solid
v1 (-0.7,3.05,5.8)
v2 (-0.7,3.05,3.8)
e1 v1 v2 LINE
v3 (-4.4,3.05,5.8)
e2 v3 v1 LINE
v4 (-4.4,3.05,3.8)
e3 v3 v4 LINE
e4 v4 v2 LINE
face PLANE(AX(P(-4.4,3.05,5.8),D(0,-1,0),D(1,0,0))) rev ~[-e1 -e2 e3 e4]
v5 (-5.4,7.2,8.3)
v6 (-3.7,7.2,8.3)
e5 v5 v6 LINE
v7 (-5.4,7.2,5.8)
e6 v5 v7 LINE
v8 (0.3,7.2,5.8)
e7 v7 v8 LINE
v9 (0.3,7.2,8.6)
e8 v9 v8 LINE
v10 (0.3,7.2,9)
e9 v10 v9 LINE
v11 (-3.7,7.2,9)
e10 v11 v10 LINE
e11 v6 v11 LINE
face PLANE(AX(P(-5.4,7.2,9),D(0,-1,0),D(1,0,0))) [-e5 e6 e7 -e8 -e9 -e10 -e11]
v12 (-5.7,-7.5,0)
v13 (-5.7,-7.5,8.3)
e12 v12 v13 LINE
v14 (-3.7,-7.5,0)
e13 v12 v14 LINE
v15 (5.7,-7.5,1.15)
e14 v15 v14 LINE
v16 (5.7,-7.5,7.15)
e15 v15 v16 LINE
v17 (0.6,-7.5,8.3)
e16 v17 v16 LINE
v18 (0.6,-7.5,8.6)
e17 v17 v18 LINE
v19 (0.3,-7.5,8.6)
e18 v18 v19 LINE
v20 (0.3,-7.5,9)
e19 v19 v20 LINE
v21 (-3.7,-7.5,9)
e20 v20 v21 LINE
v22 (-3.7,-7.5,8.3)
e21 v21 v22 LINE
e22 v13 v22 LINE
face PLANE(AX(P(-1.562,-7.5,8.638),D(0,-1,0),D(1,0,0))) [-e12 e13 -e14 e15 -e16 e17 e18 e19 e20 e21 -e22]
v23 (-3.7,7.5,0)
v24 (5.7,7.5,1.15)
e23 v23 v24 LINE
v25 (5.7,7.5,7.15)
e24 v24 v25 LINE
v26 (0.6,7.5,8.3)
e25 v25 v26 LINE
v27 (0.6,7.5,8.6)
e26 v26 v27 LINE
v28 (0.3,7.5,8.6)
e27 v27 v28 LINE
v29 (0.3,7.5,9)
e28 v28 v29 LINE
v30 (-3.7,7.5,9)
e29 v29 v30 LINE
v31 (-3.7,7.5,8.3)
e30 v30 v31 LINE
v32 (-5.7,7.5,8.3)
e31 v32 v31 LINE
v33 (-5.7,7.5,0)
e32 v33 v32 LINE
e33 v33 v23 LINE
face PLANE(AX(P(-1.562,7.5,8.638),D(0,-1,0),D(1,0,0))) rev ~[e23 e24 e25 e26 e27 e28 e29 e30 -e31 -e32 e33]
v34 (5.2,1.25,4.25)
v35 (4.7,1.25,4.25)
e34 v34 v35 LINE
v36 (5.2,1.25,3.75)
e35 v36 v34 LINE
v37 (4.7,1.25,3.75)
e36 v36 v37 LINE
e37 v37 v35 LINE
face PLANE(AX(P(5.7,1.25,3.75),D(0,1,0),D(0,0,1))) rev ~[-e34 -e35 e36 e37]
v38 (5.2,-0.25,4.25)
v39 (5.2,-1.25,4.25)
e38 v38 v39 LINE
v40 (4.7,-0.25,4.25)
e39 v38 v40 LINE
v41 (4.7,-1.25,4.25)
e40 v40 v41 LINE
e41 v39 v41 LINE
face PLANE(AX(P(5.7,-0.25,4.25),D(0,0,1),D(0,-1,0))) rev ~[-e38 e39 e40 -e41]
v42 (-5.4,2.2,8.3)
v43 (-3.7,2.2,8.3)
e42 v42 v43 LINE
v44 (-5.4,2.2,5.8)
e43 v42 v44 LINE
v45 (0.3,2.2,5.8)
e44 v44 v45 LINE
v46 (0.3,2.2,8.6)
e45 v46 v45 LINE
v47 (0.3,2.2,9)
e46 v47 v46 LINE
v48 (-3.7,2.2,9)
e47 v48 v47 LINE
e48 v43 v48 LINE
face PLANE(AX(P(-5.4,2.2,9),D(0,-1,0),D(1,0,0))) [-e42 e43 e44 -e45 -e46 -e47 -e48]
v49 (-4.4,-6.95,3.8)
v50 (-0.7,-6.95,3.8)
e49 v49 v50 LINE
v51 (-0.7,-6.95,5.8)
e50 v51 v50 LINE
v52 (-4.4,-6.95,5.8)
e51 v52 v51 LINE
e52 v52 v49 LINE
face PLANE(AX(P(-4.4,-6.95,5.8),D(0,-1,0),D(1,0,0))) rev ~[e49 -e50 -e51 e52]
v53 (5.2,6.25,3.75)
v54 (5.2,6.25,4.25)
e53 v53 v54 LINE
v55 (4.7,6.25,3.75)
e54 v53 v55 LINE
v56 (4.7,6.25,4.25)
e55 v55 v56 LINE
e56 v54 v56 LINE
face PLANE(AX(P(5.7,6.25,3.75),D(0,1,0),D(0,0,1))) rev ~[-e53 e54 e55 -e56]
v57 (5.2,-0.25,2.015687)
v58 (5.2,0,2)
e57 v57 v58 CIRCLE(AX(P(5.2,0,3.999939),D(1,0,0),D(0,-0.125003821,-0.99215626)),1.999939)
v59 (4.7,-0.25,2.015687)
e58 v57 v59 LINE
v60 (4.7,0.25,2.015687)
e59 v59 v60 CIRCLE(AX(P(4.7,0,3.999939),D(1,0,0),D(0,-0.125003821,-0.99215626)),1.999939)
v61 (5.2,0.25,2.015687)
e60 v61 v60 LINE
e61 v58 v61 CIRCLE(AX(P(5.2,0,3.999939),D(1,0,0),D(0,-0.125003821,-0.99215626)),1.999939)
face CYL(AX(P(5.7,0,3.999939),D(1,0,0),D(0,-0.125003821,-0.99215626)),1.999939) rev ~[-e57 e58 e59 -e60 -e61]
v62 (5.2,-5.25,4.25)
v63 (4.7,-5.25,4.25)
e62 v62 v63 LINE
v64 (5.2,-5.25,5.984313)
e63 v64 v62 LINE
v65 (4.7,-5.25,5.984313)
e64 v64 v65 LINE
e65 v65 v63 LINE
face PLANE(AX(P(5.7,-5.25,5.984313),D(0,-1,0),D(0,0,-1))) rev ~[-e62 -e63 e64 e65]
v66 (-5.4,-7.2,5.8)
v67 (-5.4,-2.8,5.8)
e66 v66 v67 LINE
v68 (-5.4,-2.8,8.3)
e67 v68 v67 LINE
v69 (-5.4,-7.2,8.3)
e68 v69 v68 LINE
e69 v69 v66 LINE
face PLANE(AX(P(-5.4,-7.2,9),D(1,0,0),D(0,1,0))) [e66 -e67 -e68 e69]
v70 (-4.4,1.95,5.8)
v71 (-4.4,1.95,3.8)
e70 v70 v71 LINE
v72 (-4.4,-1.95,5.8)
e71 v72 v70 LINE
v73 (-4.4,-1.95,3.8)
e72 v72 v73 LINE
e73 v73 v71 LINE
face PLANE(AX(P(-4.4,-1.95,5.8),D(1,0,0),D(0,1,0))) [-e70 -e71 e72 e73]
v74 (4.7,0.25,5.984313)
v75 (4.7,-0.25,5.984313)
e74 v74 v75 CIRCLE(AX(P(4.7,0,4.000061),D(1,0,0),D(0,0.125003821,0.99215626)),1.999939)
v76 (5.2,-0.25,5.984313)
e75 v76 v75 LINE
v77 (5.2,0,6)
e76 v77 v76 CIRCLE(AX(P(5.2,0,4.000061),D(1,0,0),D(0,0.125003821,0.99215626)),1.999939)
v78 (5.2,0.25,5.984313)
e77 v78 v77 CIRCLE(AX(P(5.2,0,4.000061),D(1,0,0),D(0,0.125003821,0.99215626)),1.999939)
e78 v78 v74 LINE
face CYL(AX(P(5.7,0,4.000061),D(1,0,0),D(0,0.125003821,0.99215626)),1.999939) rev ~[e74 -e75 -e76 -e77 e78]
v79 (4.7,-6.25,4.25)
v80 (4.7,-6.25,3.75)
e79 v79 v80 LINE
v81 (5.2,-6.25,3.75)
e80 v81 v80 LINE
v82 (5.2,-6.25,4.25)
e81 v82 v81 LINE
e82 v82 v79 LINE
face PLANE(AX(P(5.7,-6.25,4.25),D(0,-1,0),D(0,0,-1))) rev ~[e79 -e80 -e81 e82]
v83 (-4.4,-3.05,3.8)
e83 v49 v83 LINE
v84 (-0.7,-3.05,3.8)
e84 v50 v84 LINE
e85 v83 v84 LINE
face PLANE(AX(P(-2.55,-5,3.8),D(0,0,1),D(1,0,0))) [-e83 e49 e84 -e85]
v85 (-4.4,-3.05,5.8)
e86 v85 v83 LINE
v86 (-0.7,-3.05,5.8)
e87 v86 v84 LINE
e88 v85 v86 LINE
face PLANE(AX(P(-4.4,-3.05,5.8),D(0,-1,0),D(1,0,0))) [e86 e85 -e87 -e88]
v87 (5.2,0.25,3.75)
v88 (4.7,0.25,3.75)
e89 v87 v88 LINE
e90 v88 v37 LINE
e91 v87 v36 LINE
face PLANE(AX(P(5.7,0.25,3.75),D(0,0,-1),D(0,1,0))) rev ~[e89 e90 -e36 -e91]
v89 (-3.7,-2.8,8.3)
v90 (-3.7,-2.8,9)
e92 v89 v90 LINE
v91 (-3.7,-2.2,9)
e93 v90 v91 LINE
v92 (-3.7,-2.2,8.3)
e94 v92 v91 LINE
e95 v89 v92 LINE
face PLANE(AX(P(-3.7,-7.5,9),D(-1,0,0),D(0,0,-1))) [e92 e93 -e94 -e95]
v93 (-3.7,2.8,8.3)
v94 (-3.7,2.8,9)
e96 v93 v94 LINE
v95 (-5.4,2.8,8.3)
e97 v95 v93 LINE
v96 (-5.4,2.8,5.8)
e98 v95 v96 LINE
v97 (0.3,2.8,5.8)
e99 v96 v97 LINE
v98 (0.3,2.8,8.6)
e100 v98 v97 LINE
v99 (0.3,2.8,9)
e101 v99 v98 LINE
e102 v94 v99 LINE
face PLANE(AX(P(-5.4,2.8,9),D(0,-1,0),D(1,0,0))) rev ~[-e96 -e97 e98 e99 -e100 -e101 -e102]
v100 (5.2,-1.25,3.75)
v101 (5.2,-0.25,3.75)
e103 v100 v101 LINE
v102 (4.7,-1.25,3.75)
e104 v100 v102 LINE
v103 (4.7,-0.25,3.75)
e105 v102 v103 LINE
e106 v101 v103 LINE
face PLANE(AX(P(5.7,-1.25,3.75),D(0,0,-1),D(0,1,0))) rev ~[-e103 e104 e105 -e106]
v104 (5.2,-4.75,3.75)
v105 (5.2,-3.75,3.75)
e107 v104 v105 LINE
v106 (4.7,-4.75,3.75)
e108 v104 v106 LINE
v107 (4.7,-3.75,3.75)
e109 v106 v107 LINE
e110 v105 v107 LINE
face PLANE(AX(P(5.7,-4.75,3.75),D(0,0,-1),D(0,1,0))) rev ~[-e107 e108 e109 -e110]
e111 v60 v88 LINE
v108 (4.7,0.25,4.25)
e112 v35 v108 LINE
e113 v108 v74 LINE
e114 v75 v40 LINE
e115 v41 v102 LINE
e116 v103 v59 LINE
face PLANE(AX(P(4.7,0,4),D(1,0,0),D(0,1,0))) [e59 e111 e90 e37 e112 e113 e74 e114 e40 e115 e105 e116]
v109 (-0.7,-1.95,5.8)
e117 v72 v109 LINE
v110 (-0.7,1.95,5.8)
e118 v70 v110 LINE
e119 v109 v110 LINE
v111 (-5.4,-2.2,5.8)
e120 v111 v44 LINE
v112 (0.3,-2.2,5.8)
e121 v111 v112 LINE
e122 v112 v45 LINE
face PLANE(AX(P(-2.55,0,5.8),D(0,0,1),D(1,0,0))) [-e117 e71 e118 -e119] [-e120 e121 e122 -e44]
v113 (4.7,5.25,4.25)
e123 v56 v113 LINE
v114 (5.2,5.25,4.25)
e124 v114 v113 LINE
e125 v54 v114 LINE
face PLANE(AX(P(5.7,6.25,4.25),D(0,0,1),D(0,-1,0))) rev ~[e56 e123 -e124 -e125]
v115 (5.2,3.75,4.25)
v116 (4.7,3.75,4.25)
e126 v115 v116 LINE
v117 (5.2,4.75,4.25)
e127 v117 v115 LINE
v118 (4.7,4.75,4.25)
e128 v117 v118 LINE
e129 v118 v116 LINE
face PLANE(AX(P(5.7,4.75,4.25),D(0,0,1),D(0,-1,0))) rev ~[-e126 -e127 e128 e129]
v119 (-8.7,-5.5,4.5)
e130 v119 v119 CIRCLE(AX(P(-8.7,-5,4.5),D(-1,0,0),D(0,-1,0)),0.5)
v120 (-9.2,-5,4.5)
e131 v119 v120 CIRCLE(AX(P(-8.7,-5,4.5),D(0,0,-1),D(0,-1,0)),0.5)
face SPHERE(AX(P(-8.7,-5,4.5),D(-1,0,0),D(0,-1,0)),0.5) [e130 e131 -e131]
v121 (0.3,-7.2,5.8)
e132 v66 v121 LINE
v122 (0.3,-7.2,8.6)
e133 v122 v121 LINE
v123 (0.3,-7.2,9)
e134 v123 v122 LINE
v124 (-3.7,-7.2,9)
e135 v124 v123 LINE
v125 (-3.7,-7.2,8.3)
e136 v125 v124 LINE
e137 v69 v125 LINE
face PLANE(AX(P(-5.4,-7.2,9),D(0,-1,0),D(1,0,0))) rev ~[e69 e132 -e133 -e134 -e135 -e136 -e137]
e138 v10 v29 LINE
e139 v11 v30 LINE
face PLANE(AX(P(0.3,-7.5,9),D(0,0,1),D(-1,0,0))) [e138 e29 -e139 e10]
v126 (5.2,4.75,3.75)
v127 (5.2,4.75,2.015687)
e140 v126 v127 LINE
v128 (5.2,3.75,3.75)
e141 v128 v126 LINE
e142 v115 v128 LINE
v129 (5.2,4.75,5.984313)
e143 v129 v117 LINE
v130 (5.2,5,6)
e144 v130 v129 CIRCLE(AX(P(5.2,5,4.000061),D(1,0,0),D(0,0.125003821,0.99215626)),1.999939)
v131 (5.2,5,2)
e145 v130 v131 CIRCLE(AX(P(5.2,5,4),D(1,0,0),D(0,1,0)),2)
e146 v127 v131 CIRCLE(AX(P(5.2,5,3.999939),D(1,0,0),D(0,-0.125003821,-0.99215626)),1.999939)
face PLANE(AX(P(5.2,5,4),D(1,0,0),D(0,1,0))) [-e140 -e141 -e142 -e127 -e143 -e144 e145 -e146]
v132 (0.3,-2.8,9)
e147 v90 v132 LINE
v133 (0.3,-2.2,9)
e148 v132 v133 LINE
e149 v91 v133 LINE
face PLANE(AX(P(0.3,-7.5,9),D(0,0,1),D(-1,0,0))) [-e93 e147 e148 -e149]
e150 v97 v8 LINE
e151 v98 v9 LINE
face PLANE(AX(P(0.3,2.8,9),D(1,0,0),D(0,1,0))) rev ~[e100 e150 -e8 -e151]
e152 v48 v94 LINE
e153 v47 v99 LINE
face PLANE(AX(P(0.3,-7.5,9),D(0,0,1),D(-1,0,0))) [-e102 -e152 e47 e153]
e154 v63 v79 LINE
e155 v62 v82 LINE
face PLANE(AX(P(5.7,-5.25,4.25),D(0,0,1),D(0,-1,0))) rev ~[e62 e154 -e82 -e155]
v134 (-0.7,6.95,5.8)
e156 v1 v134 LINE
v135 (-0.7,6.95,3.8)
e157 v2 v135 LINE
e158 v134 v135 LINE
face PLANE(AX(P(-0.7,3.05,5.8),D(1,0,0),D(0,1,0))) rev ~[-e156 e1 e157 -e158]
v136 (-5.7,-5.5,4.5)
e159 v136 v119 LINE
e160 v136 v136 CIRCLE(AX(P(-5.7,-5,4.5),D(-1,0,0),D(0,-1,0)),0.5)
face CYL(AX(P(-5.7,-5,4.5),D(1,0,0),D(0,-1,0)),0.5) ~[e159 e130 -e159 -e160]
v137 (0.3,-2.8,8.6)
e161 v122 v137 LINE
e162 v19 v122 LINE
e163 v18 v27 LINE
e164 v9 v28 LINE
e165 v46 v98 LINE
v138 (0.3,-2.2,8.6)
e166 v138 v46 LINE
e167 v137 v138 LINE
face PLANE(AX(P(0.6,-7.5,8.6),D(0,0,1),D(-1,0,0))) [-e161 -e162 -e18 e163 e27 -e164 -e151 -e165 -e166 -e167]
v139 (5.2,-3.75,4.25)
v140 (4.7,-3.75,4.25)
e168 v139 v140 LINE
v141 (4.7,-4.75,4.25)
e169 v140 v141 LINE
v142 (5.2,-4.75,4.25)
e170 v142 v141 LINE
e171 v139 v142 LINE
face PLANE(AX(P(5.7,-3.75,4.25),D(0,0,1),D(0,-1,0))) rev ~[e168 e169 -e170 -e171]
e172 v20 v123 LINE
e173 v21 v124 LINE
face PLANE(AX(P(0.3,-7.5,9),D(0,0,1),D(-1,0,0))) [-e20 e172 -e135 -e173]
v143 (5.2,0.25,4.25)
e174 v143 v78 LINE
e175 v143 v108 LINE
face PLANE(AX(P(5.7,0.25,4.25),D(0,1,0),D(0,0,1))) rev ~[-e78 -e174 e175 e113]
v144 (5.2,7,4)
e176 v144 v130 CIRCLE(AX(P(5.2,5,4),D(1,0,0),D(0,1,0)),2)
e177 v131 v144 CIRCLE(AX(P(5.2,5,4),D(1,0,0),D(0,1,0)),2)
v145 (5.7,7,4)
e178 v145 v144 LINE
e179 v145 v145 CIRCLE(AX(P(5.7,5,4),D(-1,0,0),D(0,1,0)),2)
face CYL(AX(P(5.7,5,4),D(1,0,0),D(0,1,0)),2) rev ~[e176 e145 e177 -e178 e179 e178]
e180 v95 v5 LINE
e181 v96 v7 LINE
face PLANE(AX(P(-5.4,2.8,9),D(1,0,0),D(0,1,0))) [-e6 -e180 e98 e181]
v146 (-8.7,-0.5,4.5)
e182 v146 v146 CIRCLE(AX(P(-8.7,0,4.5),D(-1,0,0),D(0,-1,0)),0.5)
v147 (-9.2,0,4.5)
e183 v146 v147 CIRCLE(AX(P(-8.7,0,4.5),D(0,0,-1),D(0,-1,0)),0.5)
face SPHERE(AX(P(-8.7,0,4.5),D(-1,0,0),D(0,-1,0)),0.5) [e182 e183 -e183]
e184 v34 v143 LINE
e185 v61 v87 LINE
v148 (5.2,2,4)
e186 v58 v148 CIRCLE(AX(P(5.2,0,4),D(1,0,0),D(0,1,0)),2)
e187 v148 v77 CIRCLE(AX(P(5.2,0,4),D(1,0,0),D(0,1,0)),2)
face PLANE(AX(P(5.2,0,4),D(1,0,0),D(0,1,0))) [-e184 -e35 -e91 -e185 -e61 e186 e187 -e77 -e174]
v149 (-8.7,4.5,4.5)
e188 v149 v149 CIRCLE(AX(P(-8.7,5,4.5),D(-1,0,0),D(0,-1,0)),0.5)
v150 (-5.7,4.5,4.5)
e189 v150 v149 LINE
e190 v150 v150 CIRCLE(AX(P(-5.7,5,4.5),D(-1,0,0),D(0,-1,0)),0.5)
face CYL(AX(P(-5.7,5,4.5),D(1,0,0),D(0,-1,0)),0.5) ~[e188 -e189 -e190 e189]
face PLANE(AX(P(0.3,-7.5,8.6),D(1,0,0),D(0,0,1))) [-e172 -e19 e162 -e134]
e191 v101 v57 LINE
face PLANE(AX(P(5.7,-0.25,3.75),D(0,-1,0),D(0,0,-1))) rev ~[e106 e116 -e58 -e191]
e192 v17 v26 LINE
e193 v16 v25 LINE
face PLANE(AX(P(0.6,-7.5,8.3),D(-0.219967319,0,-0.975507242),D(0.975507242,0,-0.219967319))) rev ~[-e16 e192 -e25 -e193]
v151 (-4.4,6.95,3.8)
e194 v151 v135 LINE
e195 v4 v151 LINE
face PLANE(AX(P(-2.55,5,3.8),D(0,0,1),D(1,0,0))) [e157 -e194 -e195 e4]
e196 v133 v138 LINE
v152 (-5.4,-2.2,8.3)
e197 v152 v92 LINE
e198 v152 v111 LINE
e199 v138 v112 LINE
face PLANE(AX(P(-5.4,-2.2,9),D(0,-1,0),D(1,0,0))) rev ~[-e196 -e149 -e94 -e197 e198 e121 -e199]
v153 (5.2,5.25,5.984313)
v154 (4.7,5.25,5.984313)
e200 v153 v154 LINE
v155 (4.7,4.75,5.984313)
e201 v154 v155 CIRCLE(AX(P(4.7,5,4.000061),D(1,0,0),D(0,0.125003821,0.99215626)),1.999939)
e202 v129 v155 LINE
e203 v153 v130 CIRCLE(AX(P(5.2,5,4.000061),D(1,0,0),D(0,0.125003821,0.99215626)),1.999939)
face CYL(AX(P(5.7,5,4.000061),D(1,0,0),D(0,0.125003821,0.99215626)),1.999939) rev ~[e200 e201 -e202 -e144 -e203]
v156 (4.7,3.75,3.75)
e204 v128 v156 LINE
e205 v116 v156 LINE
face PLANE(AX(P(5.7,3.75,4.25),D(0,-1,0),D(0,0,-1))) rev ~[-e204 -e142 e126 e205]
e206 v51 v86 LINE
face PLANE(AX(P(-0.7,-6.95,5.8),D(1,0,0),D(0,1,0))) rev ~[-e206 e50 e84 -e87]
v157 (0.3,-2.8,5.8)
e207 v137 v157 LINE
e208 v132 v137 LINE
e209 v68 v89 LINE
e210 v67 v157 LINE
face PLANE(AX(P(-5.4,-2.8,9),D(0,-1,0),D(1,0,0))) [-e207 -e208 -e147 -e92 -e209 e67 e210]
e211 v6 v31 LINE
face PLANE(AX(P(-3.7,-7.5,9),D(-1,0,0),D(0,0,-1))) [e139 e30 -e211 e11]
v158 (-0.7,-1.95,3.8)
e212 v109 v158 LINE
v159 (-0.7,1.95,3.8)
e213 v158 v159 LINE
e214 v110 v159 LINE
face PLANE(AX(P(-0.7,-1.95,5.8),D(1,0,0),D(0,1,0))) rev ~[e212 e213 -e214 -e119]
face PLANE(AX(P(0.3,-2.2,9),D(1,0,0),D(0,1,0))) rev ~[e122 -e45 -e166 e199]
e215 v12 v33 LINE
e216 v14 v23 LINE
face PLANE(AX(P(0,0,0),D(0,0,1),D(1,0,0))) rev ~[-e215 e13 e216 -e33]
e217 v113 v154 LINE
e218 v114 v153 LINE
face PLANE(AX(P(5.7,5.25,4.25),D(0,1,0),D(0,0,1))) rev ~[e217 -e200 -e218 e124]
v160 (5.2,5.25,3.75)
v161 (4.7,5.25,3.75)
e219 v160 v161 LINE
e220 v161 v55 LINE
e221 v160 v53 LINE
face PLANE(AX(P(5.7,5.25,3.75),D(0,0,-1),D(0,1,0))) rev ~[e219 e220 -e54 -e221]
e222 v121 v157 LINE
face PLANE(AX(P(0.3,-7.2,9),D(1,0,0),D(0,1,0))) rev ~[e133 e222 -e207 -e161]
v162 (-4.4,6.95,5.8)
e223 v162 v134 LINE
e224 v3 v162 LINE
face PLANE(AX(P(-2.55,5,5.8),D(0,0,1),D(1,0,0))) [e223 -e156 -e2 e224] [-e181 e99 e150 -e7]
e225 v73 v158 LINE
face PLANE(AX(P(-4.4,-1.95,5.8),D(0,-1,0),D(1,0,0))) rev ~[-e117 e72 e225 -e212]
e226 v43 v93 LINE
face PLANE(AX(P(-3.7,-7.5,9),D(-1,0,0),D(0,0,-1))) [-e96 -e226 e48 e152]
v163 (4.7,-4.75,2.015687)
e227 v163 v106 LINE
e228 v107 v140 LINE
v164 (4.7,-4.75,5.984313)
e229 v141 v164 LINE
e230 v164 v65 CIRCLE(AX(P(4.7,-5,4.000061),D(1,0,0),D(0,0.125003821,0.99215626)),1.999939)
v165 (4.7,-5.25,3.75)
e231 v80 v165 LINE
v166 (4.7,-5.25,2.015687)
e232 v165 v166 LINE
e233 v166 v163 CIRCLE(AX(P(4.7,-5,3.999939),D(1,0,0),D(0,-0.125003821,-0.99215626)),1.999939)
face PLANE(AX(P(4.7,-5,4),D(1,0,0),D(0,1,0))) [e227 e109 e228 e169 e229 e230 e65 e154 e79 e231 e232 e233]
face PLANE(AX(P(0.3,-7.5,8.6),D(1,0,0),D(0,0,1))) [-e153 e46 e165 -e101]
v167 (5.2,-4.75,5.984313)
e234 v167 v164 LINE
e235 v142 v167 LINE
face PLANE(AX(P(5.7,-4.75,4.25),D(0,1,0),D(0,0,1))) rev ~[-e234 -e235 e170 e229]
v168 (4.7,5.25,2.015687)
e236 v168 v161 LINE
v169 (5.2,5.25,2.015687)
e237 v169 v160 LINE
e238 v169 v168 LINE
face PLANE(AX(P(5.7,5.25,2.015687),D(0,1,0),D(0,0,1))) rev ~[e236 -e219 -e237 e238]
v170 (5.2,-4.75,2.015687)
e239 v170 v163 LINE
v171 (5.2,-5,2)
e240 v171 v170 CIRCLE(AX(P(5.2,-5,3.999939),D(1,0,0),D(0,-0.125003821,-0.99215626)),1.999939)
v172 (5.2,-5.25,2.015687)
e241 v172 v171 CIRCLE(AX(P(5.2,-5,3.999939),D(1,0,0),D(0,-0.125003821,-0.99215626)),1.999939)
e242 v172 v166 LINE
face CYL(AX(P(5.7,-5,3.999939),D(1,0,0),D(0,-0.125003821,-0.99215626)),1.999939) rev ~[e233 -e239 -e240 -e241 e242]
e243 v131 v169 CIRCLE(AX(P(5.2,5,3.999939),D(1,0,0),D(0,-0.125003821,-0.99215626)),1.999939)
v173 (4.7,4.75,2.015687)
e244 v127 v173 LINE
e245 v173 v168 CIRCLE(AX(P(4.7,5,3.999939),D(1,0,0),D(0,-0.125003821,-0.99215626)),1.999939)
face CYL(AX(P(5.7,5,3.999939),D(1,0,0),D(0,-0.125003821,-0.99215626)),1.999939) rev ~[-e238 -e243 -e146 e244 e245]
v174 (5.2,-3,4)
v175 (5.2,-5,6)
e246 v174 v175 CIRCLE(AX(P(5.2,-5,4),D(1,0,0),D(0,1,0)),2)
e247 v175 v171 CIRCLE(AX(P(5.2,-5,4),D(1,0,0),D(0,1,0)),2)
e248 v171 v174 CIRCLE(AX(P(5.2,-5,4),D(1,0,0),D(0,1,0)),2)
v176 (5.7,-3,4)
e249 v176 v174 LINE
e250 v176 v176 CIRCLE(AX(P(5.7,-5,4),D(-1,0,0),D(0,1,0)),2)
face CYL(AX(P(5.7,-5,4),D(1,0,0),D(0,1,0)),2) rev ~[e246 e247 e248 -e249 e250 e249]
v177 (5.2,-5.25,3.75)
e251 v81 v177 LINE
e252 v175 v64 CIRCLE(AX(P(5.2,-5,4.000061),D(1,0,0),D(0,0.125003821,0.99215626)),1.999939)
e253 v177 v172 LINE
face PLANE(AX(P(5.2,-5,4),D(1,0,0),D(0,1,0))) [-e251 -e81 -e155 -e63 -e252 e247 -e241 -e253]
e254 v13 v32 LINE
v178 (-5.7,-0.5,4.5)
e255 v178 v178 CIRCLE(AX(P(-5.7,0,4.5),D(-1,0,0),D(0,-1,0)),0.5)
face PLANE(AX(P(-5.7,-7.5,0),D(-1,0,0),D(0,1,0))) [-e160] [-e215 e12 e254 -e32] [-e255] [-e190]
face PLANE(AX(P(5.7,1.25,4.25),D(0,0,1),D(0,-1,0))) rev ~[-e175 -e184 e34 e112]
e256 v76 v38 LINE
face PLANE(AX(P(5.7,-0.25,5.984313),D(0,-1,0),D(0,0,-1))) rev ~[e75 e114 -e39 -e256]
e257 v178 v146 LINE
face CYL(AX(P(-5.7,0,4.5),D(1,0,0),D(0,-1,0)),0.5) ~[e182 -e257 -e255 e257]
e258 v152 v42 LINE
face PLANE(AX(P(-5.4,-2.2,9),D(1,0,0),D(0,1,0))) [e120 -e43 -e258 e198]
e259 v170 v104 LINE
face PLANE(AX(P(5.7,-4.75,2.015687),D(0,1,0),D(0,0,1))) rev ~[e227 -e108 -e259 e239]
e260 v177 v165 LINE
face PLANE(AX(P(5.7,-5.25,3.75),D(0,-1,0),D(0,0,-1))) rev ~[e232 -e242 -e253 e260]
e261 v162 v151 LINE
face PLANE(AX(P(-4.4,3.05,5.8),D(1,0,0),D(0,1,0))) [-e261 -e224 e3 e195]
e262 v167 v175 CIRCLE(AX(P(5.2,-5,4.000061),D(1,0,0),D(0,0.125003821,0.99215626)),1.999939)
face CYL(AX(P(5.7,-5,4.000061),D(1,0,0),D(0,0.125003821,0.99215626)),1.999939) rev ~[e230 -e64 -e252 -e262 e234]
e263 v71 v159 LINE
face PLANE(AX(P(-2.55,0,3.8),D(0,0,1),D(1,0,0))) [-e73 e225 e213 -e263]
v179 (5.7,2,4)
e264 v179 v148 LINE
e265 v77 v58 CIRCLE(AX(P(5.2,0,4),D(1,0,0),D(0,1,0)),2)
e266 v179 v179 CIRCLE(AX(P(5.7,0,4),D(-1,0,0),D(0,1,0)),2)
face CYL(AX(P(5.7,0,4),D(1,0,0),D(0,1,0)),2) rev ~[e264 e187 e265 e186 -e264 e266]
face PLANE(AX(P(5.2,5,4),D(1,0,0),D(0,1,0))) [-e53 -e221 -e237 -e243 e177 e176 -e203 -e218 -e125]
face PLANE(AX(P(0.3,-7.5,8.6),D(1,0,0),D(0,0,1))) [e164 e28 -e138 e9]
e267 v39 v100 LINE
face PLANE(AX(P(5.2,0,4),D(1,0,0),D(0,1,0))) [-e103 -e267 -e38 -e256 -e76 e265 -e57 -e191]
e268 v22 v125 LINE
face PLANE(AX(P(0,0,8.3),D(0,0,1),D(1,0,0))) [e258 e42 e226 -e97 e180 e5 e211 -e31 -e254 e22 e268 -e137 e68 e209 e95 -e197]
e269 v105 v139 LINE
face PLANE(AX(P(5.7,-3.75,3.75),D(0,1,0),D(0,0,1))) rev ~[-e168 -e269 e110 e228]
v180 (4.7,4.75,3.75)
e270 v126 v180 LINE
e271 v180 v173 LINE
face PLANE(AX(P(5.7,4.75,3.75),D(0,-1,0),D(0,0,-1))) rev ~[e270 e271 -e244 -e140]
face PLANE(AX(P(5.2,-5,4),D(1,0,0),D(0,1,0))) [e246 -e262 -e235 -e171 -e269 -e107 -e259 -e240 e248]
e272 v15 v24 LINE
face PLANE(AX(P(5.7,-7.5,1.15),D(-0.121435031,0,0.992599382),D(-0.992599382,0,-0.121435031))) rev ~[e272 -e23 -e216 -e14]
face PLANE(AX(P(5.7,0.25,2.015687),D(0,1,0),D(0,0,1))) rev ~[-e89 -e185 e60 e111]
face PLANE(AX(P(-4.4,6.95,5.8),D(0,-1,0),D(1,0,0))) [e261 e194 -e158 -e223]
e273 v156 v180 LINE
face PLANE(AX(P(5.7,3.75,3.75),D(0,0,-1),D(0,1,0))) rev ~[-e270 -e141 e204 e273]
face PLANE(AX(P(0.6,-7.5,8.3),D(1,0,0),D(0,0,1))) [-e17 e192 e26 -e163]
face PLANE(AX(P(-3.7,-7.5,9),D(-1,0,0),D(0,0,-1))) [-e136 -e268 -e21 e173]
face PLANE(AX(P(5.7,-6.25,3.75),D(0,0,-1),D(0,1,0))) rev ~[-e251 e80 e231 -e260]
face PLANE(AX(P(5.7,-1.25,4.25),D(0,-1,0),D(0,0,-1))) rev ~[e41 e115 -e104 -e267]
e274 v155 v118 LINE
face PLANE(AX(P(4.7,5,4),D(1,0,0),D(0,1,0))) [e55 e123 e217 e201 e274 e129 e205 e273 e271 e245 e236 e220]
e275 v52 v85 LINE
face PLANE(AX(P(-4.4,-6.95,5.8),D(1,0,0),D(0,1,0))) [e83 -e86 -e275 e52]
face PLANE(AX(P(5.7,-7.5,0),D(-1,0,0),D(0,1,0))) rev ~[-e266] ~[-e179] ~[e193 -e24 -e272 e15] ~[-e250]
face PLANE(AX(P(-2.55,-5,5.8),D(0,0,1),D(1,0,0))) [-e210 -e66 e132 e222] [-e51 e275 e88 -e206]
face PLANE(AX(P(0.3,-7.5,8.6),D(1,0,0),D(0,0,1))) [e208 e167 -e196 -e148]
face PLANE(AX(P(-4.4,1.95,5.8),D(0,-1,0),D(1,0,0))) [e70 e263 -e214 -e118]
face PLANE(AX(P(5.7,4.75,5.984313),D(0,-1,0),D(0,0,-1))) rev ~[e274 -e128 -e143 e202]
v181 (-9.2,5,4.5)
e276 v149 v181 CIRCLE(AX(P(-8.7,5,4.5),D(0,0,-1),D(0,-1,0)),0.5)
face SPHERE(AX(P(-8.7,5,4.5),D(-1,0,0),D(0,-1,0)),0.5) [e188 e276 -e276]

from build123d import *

# Parameters (mm, degrees)
F0_W      = 11.4
F0_H      = 15
F1_DEPTH  = 8.3
F3_DEPTH  = 15.001
F5_DEPTH  = 15
F6_W      = 5.7
F6_H      = 4.4
F7_DEPTH  = 3.2
F8_R      = 0.5
F9_DEPTH  = 3.5
F10_R     = 2
F11_DEPTH = 0.5
F13_DEPTH = 1
F14_R     = 0.5
F15_W     = 3.7
F15_H     = 3.9
F16_DEPTH = 2


with BuildPart() as f1:
    # F0 (on Top) → F1 (new body)
    with BuildSketch(Plane.XY):
        Rectangle(F0_W, F0_H)
    extrude(amount=F1_DEPTH)

    # F2 (on face) → F3 (cut, through all)
    with BuildSketch(Plane.XZ.offset(7.5)):
        Polygon((5.7, 1.15), (-3.7, 0), (5.7, 0), align=None)
        Polygon((0.6, 8.3), (5.7, 7.15), (5.7, 8.3), align=None)
    extrude(amount=-F3_DEPTH, mode=Mode.SUBTRACT)

    # F4 (on face) → F5 (join, through all)
    with BuildSketch(Plane.XZ.offset(7.5)):
        Polygon((-3.7, 9), (-3.7, 8.3), (0.6, 8.3), (0.6, 8.6), (0.3, 8.6), (0.3, 9), align=None)
    extrude(amount=-F5_DEPTH)

    # F6 (on face) → F7 (cut)
    with BuildSketch(Plane.XY.offset(9)):
        with Locations((-2.55, 0)):
            Rectangle(F6_W, F6_H)
        with Locations((-2.55, 5)):
            Rectangle(F6_W, F6_H)
        with Locations((-2.55, -5)):
            Rectangle(F6_W, F6_H)
    extrude(amount=-F7_DEPTH, mode=Mode.SUBTRACT)

    # F8 (on face) → F9 (join)
    with BuildSketch(Plane(origin=(-5.7, 0, 0), x_dir=(0, -1, 0), z_dir=(-1, 0, 0))):
        with Locations((0, 4.5)):
            Circle(F8_R)
        with Locations((5, 4.5)):
            Circle(F8_R)
        with Locations((-5, 4.5)):
            Circle(F8_R)
    extrude(amount=F9_DEPTH)

    # F10 (on face) → F11 (cut)
    with BuildSketch(Plane.YZ.offset(5.7)):
        with Locations((0, 4)):
            Circle(F10_R)
        with Locations((5, 4)):
            Circle(F10_R)
        with Locations((-5, 4)):
            Circle(F10_R)
    extrude(amount=-F11_DEPTH, mode=Mode.SUBTRACT)

    # F12 (on face) → F13 (cut)
    with BuildSketch(Plane.YZ.offset(5.7)):
        with BuildLine():
            ThreePointArc((-4.75, 5.984313), (-5, 6), (-5.25, 5.984313))
            Line((-5.25, 5.984313), (-5.25, 4.25))
            Line((-5.25, 4.25), (-6.25, 4.25))
            Line((-6.25, 4.25), (-6.25, 3.75))
            Line((-6.25, 3.75), (-5.25, 3.75))
            Line((-5.25, 3.75), (-5.25, 2.015687))
            ThreePointArc((-5.25, 2.015687), (-5, 2), (-4.75, 2.015687))
            Line((-4.75, 2.015687), (-4.75, 3.75))
            Line((-4.75, 3.75), (-3.75, 3.75))
            Line((-3.75, 3.75), (-3.75, 4.25))
            Line((-3.75, 4.25), (-4.75, 4.25))
            Line((-4.75, 4.25), (-4.75, 5.984313))
        make_face()
        with BuildLine():
            Line((0.25, 4.25), (0.25, 5.984313))
            ThreePointArc((0.25, 5.984313), (0, 6), (-0.25, 5.984313))
            Line((-0.25, 5.984313), (-0.25, 4.25))
            Line((-0.25, 4.25), (-1.25, 4.25))
            Line((-1.25, 4.25), (-1.25, 3.75))
            Line((-1.25, 3.75), (-0.25, 3.75))
            Line((-0.25, 3.75), (-0.25, 2.015687))
            ThreePointArc((-0.25, 2.015687), (0, 2), (0.25, 2.015687))
            Line((0.25, 2.015687), (0.25, 3.75))
            Line((0.25, 3.75), (1.25, 3.75))
            Line((1.25, 3.75), (1.25, 4.25))
            Line((1.25, 4.25), (0.25, 4.25))
        make_face()
        with BuildLine():
            Line((5.25, 4.25), (5.25, 5.984313))
            ThreePointArc((5.25, 5.984313), (5, 6), (4.75, 5.984313))
            Line((4.75, 5.984313), (4.75, 4.25))
            Line((4.75, 4.25), (3.75, 4.25))
            Line((3.75, 4.25), (3.75, 3.75))
            Line((3.75, 3.75), (4.75, 3.75))
            Line((4.75, 3.75), (4.75, 2.015687))
            ThreePointArc((4.75, 2.015687), (5, 2), (5.25, 2.015687))
            Line((5.25, 2.015687), (5.25, 3.75))
            Line((5.25, 3.75), (6.25, 3.75))
            Line((6.25, 3.75), (6.25, 4.25))
            Line((6.25, 4.25), (5.25, 4.25))
        make_face()
    extrude(amount=-F13_DEPTH, mode=Mode.SUBTRACT)

    # F14
    f14_edges = [f1.edges().sort_by_distance(p)[0] for p in [
        (-9.2, 5.5, 4.5),
        (-9.2, 0.5, 4.5),
        (-9.2, -4.5, 4.5),
    ]]
    fillet(f14_edges, radius=F14_R)

    # F15 (on face) → F16 (cut)
    with BuildSketch(Plane.XY.offset(5.8)):
        with Locations((-2.55, 5)):
            Rectangle(F15_W, F15_H)
        with Locations((-2.55, 0)):
            Rectangle(F15_W, F15_H)
        with Locations((-2.55, -5)):
            Rectangle(F15_W, F15_H)
    extrude(amount=-F16_DEPTH, mode=Mode.SUBTRACT)


solid = f1.part
